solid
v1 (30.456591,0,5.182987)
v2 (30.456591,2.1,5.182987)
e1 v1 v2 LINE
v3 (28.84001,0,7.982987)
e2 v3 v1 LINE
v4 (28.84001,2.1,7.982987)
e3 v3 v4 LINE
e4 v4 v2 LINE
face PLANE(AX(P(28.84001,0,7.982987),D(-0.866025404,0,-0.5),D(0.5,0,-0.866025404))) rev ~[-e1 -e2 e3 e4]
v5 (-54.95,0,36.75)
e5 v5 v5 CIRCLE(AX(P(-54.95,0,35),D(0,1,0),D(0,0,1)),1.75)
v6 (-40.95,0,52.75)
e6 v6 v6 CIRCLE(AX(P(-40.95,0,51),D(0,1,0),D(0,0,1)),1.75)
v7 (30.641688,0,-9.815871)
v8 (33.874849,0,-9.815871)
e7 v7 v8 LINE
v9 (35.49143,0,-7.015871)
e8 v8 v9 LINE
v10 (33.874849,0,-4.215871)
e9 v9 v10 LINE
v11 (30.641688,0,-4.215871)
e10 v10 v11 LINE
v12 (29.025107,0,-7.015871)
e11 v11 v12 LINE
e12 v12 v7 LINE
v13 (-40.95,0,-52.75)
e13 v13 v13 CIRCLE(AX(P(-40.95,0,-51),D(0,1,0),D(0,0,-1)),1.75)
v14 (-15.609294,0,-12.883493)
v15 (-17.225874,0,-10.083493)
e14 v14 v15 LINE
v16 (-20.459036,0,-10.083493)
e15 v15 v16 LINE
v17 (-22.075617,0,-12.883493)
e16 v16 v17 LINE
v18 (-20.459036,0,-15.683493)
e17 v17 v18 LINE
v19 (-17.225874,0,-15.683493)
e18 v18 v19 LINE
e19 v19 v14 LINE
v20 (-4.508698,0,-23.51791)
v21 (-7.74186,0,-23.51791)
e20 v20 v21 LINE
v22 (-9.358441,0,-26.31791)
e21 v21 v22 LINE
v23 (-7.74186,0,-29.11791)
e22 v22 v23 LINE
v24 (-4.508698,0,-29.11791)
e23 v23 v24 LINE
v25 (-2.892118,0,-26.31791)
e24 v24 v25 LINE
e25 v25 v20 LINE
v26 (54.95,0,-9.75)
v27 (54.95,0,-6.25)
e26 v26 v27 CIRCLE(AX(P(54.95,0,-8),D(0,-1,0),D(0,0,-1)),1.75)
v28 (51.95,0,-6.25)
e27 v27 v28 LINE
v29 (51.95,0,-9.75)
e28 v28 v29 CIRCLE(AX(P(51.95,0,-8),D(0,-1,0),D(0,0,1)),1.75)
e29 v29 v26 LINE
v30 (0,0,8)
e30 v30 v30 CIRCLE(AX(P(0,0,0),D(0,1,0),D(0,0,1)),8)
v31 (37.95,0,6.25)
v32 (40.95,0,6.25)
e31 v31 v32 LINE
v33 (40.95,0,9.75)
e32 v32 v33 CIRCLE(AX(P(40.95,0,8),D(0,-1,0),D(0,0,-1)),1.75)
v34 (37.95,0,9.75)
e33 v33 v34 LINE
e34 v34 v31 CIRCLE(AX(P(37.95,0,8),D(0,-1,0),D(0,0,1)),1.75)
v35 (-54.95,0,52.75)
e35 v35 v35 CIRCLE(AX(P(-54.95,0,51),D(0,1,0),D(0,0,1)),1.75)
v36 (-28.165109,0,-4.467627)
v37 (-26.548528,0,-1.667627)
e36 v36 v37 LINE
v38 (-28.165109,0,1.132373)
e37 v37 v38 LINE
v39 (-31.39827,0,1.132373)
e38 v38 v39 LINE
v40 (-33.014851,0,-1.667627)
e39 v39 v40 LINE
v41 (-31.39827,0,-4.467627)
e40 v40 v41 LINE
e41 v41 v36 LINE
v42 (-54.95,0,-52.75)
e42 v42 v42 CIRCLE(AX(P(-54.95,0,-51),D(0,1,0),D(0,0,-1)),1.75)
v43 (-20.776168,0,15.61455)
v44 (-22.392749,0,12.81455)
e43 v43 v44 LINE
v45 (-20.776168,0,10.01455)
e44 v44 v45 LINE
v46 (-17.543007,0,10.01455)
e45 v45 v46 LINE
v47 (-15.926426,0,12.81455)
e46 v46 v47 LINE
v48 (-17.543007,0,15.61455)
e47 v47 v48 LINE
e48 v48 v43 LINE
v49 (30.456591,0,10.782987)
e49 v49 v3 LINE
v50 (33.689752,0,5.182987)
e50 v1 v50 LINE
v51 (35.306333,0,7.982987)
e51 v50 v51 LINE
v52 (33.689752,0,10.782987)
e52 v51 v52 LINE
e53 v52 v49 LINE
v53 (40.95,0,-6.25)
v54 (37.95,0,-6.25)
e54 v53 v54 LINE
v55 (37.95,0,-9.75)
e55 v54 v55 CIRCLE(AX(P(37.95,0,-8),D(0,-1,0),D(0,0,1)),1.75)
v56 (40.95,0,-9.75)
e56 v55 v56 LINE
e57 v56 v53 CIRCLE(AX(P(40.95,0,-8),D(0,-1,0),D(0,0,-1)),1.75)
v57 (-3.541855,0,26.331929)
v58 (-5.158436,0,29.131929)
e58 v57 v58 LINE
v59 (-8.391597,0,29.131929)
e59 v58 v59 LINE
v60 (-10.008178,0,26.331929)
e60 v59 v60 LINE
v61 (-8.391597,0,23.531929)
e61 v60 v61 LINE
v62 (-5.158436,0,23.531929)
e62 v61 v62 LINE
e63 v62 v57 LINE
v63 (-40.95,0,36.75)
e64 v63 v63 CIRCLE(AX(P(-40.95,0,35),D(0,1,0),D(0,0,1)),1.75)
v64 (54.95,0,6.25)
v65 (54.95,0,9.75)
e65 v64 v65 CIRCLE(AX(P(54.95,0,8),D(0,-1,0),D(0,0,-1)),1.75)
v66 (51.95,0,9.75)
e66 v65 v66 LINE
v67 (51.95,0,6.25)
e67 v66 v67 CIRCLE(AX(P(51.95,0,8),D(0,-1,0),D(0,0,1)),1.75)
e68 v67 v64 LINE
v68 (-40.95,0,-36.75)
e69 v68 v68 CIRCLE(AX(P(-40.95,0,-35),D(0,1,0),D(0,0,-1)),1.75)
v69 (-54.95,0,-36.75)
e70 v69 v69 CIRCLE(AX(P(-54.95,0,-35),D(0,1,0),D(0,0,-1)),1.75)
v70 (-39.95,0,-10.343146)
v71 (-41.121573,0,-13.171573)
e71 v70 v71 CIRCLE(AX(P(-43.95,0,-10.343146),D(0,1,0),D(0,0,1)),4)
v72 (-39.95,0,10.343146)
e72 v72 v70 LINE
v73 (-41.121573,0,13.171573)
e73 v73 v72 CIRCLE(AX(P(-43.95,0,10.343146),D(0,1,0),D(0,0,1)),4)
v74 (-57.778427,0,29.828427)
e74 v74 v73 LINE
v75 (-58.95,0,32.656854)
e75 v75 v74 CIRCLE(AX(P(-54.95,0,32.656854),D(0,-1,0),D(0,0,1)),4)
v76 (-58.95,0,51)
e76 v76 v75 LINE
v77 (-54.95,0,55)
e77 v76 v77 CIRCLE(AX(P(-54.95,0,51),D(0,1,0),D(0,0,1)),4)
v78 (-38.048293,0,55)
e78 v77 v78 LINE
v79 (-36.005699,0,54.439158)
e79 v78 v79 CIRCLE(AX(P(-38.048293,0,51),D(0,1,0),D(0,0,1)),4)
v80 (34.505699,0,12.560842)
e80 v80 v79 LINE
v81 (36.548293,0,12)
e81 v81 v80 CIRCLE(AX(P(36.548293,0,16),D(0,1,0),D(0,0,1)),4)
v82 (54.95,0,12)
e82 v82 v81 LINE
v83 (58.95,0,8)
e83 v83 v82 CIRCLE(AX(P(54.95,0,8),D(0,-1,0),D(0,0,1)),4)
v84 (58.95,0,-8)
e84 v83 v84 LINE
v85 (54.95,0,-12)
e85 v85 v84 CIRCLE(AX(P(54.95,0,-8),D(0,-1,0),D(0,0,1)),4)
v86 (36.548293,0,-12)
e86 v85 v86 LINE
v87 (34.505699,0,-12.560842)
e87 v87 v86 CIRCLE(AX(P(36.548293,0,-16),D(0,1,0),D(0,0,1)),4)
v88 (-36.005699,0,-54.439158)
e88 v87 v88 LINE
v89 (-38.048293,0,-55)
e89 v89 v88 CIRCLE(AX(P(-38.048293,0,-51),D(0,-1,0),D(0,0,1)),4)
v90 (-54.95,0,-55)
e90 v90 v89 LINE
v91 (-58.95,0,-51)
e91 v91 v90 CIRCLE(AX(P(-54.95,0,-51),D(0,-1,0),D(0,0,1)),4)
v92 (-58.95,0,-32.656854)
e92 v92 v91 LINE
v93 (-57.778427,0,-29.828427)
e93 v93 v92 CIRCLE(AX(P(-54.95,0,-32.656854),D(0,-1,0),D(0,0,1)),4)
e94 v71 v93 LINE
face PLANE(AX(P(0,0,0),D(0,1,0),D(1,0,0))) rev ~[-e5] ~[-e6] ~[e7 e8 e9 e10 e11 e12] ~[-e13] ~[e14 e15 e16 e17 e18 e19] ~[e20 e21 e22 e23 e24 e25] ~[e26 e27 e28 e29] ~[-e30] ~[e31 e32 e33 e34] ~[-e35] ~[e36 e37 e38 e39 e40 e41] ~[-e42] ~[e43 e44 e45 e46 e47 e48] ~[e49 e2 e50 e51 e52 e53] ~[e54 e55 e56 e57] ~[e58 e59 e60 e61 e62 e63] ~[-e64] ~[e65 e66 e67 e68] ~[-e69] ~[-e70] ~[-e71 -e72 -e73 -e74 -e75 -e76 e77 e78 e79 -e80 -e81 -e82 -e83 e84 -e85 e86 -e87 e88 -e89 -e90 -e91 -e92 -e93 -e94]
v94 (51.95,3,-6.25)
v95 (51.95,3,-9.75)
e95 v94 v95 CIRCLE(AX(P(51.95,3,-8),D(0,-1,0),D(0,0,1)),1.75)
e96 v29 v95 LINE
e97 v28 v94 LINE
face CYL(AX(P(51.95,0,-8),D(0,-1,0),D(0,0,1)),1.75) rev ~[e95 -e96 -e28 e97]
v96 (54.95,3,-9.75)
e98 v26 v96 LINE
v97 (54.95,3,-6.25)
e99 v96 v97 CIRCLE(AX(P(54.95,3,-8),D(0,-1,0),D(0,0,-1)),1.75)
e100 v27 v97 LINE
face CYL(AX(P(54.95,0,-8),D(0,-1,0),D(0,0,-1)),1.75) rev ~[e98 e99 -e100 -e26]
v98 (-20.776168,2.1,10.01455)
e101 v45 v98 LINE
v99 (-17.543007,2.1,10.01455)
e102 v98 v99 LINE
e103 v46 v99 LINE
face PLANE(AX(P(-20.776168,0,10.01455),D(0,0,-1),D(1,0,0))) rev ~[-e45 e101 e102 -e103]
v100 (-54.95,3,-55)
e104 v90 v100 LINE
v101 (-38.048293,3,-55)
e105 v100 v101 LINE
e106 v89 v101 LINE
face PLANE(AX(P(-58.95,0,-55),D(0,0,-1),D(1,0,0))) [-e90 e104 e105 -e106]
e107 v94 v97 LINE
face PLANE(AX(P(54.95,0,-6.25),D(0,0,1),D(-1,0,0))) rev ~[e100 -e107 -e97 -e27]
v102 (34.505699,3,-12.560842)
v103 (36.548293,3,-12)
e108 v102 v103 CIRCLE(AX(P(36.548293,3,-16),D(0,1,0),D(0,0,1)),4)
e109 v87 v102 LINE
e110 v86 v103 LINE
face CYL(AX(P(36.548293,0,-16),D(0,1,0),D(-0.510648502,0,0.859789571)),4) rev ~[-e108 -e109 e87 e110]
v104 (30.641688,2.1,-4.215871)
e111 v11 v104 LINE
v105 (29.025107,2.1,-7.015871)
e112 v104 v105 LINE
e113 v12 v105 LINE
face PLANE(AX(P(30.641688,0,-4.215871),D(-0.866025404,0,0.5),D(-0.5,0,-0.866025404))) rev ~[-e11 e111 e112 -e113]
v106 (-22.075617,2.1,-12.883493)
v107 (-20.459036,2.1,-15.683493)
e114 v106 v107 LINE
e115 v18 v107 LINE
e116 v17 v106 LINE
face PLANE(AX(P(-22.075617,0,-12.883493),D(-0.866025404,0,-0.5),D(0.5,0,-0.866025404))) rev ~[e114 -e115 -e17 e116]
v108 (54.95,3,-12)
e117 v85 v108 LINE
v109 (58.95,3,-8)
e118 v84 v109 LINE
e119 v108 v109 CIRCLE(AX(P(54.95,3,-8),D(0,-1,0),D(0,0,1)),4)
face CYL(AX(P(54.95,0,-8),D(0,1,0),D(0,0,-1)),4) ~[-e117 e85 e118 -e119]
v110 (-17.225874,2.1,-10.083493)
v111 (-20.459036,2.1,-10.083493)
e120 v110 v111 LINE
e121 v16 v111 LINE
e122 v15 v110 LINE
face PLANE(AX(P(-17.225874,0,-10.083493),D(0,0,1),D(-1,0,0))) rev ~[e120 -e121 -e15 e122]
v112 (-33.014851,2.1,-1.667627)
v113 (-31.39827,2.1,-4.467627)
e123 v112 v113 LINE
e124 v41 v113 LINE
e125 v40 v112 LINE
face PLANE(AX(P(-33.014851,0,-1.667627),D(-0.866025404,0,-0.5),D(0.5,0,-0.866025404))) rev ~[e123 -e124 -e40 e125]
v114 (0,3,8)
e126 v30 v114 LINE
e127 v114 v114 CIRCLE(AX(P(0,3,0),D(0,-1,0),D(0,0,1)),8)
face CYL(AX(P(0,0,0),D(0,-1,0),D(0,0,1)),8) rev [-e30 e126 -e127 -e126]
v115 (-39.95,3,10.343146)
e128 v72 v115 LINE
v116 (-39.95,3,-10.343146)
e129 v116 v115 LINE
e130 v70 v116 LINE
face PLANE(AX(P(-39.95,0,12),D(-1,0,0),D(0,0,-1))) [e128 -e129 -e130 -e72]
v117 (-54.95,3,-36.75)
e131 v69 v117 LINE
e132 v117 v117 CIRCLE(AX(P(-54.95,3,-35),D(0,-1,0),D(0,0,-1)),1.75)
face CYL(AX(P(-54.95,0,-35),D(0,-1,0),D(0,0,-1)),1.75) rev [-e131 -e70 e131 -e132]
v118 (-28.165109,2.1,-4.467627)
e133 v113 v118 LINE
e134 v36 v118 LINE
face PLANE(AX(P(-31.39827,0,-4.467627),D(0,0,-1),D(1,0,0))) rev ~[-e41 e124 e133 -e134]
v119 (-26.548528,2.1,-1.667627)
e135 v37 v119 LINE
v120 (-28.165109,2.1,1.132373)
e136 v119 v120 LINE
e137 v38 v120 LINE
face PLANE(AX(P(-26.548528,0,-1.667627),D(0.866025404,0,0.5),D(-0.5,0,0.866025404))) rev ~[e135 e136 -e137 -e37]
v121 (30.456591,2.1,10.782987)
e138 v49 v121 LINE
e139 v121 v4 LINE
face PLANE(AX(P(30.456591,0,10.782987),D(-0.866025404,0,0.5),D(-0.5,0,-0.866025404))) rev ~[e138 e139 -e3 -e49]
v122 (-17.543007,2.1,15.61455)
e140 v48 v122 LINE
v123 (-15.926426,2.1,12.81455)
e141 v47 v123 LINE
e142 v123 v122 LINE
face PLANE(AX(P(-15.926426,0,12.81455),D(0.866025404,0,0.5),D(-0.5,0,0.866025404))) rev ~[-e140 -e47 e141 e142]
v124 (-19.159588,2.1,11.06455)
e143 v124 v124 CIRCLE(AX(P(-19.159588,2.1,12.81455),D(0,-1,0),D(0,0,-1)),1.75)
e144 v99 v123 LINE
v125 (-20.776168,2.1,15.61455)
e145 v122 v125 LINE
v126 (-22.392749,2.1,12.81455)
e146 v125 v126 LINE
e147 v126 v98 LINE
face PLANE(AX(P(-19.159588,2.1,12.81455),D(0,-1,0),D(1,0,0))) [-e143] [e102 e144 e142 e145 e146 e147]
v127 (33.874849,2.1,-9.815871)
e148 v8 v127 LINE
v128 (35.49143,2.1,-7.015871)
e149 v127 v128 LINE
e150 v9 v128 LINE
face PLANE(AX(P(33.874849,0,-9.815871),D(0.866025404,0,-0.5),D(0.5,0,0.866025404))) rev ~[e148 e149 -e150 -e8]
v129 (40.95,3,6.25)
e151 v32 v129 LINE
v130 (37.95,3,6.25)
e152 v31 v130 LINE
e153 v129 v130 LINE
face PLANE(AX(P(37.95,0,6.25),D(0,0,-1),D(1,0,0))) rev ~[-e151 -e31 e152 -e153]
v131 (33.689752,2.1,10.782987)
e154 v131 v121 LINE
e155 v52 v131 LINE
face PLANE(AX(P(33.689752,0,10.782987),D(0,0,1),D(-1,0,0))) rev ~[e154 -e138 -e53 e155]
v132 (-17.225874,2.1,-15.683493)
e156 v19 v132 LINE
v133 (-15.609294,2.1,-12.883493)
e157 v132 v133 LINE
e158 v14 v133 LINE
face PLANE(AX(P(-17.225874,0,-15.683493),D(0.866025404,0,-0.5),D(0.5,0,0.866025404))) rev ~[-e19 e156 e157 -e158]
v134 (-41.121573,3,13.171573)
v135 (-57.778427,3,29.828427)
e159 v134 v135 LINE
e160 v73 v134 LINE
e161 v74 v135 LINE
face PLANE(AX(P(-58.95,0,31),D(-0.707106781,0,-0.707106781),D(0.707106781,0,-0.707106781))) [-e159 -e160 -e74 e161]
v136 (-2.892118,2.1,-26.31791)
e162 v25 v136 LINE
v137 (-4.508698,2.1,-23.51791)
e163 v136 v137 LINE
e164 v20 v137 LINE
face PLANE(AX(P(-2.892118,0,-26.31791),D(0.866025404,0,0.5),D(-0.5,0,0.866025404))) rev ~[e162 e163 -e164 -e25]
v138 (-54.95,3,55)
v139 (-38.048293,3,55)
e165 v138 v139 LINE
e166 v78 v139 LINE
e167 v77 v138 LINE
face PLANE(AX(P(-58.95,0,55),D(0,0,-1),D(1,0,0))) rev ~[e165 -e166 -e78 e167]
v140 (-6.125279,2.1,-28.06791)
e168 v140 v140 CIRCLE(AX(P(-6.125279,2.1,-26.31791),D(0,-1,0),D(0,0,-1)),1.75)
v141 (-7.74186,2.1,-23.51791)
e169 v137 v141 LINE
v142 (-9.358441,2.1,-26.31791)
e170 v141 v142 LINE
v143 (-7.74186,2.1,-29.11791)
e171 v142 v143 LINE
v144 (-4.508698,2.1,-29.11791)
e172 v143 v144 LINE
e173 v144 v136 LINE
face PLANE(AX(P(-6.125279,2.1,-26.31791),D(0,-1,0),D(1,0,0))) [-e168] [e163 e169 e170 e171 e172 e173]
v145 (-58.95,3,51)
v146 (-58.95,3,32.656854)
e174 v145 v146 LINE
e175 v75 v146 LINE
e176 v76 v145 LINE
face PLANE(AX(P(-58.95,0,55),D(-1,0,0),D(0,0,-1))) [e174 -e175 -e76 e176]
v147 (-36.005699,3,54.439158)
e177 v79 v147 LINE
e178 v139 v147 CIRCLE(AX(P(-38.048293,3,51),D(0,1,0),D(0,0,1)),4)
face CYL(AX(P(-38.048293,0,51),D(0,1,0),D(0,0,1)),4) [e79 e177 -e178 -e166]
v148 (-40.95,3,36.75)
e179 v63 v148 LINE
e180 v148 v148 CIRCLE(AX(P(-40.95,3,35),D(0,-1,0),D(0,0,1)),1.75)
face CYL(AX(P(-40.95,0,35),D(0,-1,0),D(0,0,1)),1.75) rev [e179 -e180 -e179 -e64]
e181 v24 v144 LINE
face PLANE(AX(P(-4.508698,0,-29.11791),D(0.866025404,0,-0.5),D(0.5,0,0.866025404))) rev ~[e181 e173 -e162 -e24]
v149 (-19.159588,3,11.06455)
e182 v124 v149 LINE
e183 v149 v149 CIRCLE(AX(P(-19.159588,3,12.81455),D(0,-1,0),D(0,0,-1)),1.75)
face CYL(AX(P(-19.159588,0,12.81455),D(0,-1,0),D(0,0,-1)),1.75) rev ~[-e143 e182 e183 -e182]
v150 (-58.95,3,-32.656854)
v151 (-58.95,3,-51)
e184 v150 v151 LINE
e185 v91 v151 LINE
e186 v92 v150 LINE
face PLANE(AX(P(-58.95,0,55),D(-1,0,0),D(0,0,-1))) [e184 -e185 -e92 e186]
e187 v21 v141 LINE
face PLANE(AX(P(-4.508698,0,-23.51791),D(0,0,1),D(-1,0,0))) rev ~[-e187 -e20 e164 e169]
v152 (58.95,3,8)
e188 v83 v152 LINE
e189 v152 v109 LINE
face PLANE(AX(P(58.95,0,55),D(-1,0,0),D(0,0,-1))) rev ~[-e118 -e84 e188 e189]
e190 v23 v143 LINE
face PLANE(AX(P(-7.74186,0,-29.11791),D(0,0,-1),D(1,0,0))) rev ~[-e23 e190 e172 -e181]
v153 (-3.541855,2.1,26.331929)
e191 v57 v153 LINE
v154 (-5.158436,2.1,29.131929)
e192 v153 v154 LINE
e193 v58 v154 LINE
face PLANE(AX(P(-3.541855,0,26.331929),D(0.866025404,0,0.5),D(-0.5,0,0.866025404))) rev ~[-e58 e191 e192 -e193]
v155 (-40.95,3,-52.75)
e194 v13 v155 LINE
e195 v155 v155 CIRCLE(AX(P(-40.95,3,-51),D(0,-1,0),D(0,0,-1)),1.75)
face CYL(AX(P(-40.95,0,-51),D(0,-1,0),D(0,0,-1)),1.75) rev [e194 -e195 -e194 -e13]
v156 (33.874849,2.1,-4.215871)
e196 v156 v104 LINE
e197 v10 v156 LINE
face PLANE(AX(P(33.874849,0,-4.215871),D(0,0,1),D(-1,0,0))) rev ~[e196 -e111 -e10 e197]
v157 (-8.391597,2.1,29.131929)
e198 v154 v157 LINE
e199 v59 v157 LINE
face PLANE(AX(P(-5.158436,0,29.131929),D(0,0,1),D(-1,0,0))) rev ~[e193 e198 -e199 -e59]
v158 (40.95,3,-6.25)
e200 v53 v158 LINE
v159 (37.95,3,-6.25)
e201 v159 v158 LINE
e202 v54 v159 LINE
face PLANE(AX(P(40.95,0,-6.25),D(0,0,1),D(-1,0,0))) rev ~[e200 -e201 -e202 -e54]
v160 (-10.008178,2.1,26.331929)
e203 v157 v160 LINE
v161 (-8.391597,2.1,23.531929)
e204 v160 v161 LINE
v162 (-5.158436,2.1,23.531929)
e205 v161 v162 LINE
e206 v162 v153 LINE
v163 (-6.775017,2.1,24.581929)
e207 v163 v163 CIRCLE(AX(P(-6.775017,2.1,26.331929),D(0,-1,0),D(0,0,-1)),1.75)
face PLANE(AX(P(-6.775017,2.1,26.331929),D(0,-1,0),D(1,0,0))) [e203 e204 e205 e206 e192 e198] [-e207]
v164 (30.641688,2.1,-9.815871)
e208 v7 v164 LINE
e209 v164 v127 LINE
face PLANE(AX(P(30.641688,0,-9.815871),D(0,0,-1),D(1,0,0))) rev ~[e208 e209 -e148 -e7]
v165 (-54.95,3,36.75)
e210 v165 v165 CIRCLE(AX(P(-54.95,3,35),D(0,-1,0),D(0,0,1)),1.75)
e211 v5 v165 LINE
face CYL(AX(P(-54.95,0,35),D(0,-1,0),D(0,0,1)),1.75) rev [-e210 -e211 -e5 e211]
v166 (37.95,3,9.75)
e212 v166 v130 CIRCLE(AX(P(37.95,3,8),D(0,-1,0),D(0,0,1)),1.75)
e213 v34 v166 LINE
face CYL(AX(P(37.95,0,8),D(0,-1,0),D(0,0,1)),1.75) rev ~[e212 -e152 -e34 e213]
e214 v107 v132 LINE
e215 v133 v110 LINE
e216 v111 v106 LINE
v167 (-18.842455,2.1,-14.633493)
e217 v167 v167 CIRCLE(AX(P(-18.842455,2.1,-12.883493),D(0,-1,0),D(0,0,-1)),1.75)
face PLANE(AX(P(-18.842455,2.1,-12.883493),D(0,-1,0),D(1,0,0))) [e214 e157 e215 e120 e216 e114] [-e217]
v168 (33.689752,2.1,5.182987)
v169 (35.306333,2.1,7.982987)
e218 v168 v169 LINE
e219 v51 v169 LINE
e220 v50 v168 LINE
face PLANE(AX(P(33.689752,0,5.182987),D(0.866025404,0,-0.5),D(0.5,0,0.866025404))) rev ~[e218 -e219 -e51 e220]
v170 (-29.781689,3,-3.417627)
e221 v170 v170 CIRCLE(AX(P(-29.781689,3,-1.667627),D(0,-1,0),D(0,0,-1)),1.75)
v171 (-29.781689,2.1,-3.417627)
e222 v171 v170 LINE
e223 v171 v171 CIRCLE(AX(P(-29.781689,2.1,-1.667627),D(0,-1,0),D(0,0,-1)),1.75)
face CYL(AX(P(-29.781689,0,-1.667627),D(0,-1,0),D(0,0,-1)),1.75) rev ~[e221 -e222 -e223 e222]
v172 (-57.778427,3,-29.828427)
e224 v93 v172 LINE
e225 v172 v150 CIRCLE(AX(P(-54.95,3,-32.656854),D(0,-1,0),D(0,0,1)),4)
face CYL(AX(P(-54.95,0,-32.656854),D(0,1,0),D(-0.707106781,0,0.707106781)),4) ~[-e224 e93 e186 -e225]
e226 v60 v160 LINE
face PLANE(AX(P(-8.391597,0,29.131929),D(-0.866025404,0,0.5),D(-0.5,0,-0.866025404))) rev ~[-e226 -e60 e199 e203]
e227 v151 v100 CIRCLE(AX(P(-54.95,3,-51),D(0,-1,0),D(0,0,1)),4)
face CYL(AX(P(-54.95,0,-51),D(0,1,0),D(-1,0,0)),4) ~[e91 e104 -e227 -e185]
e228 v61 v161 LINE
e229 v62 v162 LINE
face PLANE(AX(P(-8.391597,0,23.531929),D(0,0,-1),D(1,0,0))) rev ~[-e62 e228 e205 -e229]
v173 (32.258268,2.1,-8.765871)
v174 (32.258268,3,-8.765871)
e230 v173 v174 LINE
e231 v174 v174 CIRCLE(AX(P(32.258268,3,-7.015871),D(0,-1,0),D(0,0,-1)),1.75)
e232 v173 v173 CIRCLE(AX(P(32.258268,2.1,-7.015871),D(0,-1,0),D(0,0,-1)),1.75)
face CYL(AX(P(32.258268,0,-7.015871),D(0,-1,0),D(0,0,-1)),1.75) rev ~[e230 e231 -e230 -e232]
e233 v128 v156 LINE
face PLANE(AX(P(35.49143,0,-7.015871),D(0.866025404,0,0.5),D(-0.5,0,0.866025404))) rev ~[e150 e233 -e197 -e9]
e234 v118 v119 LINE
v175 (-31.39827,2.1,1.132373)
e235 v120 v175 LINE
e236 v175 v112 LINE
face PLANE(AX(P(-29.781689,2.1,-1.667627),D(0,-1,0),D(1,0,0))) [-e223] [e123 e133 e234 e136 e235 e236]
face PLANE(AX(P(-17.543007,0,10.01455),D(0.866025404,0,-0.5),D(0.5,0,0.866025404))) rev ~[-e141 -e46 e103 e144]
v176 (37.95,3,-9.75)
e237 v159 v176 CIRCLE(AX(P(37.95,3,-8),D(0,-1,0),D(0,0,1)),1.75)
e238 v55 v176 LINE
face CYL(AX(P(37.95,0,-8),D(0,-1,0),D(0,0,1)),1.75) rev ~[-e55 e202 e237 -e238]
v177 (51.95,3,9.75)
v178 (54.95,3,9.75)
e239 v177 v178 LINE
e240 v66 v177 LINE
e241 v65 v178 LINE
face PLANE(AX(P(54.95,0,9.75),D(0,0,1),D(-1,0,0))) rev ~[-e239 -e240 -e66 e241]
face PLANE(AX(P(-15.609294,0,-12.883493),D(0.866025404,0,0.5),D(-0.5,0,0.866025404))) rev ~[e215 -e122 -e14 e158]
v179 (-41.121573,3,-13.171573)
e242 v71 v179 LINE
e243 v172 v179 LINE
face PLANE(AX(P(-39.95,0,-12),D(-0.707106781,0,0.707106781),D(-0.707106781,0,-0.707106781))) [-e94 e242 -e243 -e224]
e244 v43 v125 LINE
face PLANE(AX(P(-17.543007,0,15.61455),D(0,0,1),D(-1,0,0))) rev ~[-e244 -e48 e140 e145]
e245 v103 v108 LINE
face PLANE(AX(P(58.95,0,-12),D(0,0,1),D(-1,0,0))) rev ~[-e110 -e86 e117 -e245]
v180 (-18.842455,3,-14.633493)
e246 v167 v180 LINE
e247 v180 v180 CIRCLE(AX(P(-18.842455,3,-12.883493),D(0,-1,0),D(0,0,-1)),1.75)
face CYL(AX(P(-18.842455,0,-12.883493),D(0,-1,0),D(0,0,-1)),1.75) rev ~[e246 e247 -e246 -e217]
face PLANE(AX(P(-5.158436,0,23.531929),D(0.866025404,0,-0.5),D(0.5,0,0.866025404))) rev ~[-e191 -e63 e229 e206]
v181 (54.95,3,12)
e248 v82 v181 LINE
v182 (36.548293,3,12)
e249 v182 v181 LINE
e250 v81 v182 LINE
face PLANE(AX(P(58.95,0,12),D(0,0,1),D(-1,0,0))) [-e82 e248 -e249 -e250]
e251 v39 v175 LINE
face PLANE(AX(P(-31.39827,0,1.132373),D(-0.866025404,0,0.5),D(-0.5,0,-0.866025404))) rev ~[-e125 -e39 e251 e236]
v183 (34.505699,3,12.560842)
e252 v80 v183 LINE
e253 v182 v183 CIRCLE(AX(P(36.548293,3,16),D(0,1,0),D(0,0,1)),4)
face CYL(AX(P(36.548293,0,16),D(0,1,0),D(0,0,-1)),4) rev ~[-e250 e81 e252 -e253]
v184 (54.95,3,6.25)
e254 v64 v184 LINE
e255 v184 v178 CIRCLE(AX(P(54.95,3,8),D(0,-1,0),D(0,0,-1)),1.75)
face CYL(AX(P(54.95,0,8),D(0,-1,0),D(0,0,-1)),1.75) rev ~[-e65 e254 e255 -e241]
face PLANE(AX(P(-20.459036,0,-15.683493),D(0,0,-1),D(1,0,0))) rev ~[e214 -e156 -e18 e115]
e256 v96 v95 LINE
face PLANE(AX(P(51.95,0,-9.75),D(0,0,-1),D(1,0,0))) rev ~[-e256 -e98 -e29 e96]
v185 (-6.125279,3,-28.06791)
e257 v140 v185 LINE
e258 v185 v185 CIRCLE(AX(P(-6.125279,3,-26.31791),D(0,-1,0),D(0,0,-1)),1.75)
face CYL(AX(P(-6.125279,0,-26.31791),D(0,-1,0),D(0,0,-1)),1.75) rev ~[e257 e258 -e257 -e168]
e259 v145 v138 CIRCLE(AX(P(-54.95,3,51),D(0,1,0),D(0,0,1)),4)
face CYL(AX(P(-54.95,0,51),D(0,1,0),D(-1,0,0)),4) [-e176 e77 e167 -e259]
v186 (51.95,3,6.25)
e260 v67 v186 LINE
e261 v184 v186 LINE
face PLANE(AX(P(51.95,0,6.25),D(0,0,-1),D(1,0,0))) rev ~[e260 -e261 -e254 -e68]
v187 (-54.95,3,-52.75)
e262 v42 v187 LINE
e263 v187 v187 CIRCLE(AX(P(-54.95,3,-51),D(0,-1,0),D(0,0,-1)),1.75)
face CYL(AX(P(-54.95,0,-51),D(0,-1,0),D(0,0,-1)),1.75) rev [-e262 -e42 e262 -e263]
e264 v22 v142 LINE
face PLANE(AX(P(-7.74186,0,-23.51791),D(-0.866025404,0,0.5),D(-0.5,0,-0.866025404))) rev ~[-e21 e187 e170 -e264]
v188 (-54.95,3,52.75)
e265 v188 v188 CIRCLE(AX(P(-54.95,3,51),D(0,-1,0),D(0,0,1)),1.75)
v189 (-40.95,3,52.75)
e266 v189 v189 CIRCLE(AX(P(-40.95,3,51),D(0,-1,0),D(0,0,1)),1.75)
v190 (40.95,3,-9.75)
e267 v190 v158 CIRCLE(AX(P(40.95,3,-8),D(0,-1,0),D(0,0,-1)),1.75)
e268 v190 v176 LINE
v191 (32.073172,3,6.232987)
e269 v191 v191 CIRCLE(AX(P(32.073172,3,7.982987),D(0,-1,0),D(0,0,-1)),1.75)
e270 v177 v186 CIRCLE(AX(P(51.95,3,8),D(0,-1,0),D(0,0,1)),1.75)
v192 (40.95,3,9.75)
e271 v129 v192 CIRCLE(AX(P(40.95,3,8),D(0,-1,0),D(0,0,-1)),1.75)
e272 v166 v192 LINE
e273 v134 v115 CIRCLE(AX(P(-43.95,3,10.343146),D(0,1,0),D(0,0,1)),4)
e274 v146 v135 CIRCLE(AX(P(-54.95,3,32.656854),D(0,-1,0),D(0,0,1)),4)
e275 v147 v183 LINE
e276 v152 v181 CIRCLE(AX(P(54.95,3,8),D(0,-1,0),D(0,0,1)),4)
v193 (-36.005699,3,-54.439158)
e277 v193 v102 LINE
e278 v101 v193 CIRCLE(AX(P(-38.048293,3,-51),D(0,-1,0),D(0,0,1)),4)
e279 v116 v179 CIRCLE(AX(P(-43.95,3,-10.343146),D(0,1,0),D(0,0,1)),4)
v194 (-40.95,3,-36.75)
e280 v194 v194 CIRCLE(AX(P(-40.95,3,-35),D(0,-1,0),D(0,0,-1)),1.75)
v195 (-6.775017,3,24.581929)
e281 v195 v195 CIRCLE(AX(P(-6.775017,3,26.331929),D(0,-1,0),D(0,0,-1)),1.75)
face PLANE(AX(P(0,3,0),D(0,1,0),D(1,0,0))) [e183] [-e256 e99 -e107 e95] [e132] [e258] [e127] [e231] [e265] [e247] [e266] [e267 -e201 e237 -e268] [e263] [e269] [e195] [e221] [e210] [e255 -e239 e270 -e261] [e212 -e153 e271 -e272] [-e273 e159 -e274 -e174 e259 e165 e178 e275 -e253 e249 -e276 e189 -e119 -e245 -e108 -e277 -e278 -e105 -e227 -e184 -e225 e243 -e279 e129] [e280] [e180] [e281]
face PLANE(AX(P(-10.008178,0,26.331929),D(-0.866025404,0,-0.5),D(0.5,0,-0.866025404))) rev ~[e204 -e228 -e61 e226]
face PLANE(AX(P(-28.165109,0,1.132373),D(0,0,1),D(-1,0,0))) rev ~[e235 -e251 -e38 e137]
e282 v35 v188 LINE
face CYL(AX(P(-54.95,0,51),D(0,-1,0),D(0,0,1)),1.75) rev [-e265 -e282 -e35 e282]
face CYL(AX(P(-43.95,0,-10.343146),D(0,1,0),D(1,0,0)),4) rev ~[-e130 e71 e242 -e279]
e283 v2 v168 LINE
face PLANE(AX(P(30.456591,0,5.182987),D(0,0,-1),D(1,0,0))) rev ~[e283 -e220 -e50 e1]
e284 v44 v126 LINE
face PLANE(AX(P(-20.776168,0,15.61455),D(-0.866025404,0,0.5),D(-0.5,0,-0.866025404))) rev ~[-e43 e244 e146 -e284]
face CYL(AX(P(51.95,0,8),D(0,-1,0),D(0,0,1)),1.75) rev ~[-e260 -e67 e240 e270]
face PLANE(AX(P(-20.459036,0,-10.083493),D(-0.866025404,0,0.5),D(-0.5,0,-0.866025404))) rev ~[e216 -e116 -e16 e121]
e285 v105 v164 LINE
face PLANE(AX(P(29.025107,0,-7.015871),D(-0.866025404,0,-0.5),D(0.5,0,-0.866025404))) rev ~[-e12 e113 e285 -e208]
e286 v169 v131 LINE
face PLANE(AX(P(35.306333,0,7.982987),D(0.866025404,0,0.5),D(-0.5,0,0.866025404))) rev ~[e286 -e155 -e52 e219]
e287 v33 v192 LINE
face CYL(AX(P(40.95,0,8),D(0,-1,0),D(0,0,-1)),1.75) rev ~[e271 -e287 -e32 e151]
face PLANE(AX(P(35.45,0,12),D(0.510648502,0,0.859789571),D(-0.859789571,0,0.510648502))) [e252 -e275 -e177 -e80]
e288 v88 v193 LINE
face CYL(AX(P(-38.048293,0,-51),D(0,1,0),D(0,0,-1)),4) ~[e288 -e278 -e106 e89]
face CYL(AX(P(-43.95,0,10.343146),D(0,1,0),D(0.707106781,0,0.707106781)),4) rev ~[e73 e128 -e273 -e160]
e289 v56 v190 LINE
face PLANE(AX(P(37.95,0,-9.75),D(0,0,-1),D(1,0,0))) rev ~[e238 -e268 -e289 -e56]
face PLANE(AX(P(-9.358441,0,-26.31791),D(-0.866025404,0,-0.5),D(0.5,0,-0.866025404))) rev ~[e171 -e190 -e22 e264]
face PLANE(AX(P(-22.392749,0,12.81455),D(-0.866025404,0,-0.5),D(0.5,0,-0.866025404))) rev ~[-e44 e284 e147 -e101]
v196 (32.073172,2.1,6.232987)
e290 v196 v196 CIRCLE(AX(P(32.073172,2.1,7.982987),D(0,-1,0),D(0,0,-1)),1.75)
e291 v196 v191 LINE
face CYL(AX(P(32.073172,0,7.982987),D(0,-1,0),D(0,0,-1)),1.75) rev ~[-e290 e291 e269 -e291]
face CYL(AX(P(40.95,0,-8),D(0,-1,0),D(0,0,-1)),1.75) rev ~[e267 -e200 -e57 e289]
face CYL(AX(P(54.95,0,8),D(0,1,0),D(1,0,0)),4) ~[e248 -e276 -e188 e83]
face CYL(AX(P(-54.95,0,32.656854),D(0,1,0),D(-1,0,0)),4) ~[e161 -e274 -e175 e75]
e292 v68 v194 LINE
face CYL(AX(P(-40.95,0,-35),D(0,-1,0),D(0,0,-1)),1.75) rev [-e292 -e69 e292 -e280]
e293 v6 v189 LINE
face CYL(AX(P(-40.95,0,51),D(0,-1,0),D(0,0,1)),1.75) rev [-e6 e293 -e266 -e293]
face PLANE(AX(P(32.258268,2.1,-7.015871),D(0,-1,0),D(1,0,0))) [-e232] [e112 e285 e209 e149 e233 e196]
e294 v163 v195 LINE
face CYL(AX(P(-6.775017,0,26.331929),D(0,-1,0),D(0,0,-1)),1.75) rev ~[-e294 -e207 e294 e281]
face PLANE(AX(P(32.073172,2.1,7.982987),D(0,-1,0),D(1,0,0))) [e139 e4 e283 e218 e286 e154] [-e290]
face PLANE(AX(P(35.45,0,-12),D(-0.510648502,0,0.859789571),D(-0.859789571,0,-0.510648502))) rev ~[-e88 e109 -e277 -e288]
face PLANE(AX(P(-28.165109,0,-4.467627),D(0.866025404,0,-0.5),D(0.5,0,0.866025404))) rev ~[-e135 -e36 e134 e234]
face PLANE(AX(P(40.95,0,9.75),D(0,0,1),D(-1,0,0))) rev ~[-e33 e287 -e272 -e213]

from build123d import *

# Parameters (mm, degrees)
ESQUISSE1_W             = 117.9
ESQUISSE1_H             = 110
BOSS_EXTRU_1_DEPTH      = 3
ESQUISSE2_R             = 1.75
ENL_V_MAT_EXTRU_1_DEPTH = 81.679009042
CONG_1_R                = 4
ESQUISSE3_R             = 8
ENL_V_MAT_EXTRU_2_DEPTH = 81.679009042
ENL_V_MAT_EXTRU_3_DEPTH = 2.1
ESQUISSE19_R            = 1.75
ENL_V_MAT_EXTRU_4_DEPTH = 81.679009042


with BuildPart() as part:
    # Esquisse1 → Boss.-Extru.1 (new body)
    with BuildSketch(Plane(origin=(0, 0, 0), x_dir=(1, 0, 0), z_dir=(0, 1, 0))):
        Rectangle(ESQUISSE1_W, ESQUISSE1_H)
    extrude(amount=BOSS_EXTRU_1_DEPTH)

    # Esquisse2 → Enlèv. mat.-Extru.1 (cut, through all)
    with BuildSketch(Plane(origin=(0, 0, 0), x_dir=(1, 0, 0), z_dir=(0, 1, 0))):
        with Locations(Location((-40.95, -35, 0), (0, 0, 270))):
            Circle(ESQUISSE2_R)
        with Locations(Location((-54.95, -35, 0), (0, 0, 270))):
            Circle(ESQUISSE2_R)
        with Locations(Location((-54.95, -51, 0), (0, 0, 270))):
            Circle(ESQUISSE2_R)
        with Locations(Location((-40.95, -51, 0), (0, 0, 270))):
            Circle(ESQUISSE2_R)
        with Locations(Location((-40.95, 51, 0), (0, 0, 90))):
            Circle(ESQUISSE2_R)
        with Locations(Location((-54.95, 51, 0), (0, 0, 90))):
            Circle(ESQUISSE2_R)
        with Locations(Location((-54.95, 35, 0), (0, 0, 90))):
            Circle(ESQUISSE2_R)
        with Locations(Location((-40.95, 35, 0), (0, 0, 90))):
            Circle(ESQUISSE2_R)
        Polygon((58.95, 12), (35.45, 12), (-36.95, 55), (58.95, 55), align=None)
        Polygon((58.95, -12), (35.45, -12), (-36.95, -55), (58.95, -55), align=None)
        Polygon((-58.95, -31), (-39.95, -12), (-39.95, 12), (-58.95, 31), align=None)
        with BuildLine():
            Line((37.95, 9.75), (40.95, 9.75))
            ThreePointArc((40.95, 9.75), (42.7, 8), (40.95, 6.25))
            Line((40.95, 6.25), (37.95, 6.25))
            ThreePointArc((37.95, 6.25), (36.2, 8), (37.95, 9.75))
        make_face()
        with BuildLine():
            Line((54.95, 6.25), (51.95, 6.25))
            ThreePointArc((51.95, 6.25), (50.2, 8), (51.95, 9.75))
            Line((51.95, 9.75), (54.95, 9.75))
            ThreePointArc((54.95, 9.75), (56.7, 8), (54.95, 6.25))
        make_face()
        with BuildLine():
            Line((37.95, -6.25), (40.95, -6.25))
            ThreePointArc((40.95, -6.25), (42.7, -8), (40.95, -9.75))
            Line((40.95, -9.75), (37.95, -9.75))
            ThreePointArc((37.95, -9.75), (36.2, -8), (37.95, -6.25))
        make_face()
        with BuildLine():
            Line((54.95, -9.75), (51.95, -9.75))
            ThreePointArc((51.95, -9.75), (50.2, -8), (51.95, -6.25))
            Line((51.95, -6.25), (54.95, -6.25))
            ThreePointArc((54.95, -6.25), (56.7, -8), (54.95, -9.75))
        make_face()
    extrude(amount=ENL_V_MAT_EXTRU_1_DEPTH, mode=Mode.SUBTRACT)

    # Congé1
    cong_1_edges = [part.edges().sort_by_distance(p)[0] for p in [
        (-39.95, 1.5, -12),
        (-58.95, 1.5, -55),
        (-58.95, 1.5, 55),
        (58.95, 1.5, 12),
        (35.45, 1.5, 12),
        (-36.95, 1.5, 55),
        (58.95, 1.5, -12),
        (-36.95, 1.5, -55),
        (35.45, 1.5, -12),
        (-58.95, 1.5, -31),
        (-58.95, 1.5, 31),
        (-39.95, 1.5, 12),
    ]]
    fillet(cong_1_edges, radius=CONG_1_R)

    # Esquisse3 → Enlèv. mat.-Extru.2 (cut, through all)
    with BuildSketch(Plane(origin=(0, 0, 0), x_dir=(1, 0, 0), z_dir=(0, 1, 0))):
        with Locations(Location((0, 0, 0), (0, 0, 270))):
            Circle(ESQUISSE3_R)
    extrude(amount=ENL_V_MAT_EXTRU_2_DEPTH, mode=Mode.SUBTRACT)

    # Esquisse6 → Enlèv. mat.-Extru.3 (cut)
    with BuildSketch(Plane.XZ):
        Polygon((-15.609293528, -12.883492858), (-17.225874282, -10.083492858), (-20.45903579, -10.083492858), (-22.075616543, -12.883492858), (-20.45903579, -15.683492858), (-17.225874282, -15.683492858), align=None)
        Polygon((-26.54852785, -1.667626755), (-28.165108604, 1.132373245), (-31.398270112, 1.132373245), (-33.014850865, -1.667626755), (-31.398270112, -4.467626755), (-28.165108604, -4.467626755), align=None)
        Polygon((-15.926426125, 12.814550393), (-17.543006878, 15.614550393), (-20.776168386, 15.614550393), (-22.39274914, 12.814550393), (-20.776168386, 10.014550393), (-17.543006878, 10.014550393), align=None)
        Polygon((-3.541855014, 26.331929262), (-5.158435767, 29.131929262), (-8.391597275, 29.131929262), (-10.008178029, 26.331929262), (-8.391597275, 23.531929262), (-5.158435767, 23.531929262), align=None)
        Polygon((35.306333009, 7.982986542), (33.689752255, 10.782986542), (30.456590748, 10.782986542), (28.840009994, 7.982986542), (30.456590748, 5.182986542), (33.689752255, 5.182986542), align=None)
        Polygon((35.491429855, -7.015871386), (33.874849101, -4.215871386), (30.641687594, -4.215871386), (29.02510684, -7.015871386), (30.641687594, -9.815871386), (33.874849101, -9.815871386), align=None)
        Polygon((-2.892117597, -26.317910049), (-4.508698351, -23.517910049), (-7.741859858, -23.517910049), (-9.358440612, -26.317910049), (-7.741859858, -29.117910049), (-4.508698351, -29.117910049), align=None)
    extrude(amount=-ENL_V_MAT_EXTRU_3_DEPTH, mode=Mode.SUBTRACT)

    # Esquisse19 → Enlèv. mat.-Extru.4 (cut, through all)
    with BuildSketch(Plane.XZ):
        with Locations(Location((-29.781689358, -1.667626755, 0), (0, 0, 270))):
            Circle(ESQUISSE19_R)
        with Locations(Location((-19.159587632, 12.814550393, 0), (0, 0, 270))):
            Circle(ESQUISSE19_R)
        with Locations(Location((-6.775016521, 26.331929262, 0), (0, 0, 270))):
            Circle(ESQUISSE19_R)
        with Locations(Location((-18.842455036, -12.883492858, 0), (0, 0, 270))):
            Circle(ESQUISSE19_R)
        with Locations(Location((-6.125279104, -26.317910049, 0), (0, 0, 270))):
            Circle(ESQUISSE19_R)
        with Locations(Location((32.258268348, -7.015871386, 0), (0, 0, 270))):
            Circle(ESQUISSE19_R)
        with Locations(Location((32.073171502, 7.982986542, 0), (0, 0, 270))):
            Circle(ESQUISSE19_R)
    extrude(amount=-ENL_V_MAT_EXTRU_4_DEPTH, mode=Mode.SUBTRACT)


solid = part.part
